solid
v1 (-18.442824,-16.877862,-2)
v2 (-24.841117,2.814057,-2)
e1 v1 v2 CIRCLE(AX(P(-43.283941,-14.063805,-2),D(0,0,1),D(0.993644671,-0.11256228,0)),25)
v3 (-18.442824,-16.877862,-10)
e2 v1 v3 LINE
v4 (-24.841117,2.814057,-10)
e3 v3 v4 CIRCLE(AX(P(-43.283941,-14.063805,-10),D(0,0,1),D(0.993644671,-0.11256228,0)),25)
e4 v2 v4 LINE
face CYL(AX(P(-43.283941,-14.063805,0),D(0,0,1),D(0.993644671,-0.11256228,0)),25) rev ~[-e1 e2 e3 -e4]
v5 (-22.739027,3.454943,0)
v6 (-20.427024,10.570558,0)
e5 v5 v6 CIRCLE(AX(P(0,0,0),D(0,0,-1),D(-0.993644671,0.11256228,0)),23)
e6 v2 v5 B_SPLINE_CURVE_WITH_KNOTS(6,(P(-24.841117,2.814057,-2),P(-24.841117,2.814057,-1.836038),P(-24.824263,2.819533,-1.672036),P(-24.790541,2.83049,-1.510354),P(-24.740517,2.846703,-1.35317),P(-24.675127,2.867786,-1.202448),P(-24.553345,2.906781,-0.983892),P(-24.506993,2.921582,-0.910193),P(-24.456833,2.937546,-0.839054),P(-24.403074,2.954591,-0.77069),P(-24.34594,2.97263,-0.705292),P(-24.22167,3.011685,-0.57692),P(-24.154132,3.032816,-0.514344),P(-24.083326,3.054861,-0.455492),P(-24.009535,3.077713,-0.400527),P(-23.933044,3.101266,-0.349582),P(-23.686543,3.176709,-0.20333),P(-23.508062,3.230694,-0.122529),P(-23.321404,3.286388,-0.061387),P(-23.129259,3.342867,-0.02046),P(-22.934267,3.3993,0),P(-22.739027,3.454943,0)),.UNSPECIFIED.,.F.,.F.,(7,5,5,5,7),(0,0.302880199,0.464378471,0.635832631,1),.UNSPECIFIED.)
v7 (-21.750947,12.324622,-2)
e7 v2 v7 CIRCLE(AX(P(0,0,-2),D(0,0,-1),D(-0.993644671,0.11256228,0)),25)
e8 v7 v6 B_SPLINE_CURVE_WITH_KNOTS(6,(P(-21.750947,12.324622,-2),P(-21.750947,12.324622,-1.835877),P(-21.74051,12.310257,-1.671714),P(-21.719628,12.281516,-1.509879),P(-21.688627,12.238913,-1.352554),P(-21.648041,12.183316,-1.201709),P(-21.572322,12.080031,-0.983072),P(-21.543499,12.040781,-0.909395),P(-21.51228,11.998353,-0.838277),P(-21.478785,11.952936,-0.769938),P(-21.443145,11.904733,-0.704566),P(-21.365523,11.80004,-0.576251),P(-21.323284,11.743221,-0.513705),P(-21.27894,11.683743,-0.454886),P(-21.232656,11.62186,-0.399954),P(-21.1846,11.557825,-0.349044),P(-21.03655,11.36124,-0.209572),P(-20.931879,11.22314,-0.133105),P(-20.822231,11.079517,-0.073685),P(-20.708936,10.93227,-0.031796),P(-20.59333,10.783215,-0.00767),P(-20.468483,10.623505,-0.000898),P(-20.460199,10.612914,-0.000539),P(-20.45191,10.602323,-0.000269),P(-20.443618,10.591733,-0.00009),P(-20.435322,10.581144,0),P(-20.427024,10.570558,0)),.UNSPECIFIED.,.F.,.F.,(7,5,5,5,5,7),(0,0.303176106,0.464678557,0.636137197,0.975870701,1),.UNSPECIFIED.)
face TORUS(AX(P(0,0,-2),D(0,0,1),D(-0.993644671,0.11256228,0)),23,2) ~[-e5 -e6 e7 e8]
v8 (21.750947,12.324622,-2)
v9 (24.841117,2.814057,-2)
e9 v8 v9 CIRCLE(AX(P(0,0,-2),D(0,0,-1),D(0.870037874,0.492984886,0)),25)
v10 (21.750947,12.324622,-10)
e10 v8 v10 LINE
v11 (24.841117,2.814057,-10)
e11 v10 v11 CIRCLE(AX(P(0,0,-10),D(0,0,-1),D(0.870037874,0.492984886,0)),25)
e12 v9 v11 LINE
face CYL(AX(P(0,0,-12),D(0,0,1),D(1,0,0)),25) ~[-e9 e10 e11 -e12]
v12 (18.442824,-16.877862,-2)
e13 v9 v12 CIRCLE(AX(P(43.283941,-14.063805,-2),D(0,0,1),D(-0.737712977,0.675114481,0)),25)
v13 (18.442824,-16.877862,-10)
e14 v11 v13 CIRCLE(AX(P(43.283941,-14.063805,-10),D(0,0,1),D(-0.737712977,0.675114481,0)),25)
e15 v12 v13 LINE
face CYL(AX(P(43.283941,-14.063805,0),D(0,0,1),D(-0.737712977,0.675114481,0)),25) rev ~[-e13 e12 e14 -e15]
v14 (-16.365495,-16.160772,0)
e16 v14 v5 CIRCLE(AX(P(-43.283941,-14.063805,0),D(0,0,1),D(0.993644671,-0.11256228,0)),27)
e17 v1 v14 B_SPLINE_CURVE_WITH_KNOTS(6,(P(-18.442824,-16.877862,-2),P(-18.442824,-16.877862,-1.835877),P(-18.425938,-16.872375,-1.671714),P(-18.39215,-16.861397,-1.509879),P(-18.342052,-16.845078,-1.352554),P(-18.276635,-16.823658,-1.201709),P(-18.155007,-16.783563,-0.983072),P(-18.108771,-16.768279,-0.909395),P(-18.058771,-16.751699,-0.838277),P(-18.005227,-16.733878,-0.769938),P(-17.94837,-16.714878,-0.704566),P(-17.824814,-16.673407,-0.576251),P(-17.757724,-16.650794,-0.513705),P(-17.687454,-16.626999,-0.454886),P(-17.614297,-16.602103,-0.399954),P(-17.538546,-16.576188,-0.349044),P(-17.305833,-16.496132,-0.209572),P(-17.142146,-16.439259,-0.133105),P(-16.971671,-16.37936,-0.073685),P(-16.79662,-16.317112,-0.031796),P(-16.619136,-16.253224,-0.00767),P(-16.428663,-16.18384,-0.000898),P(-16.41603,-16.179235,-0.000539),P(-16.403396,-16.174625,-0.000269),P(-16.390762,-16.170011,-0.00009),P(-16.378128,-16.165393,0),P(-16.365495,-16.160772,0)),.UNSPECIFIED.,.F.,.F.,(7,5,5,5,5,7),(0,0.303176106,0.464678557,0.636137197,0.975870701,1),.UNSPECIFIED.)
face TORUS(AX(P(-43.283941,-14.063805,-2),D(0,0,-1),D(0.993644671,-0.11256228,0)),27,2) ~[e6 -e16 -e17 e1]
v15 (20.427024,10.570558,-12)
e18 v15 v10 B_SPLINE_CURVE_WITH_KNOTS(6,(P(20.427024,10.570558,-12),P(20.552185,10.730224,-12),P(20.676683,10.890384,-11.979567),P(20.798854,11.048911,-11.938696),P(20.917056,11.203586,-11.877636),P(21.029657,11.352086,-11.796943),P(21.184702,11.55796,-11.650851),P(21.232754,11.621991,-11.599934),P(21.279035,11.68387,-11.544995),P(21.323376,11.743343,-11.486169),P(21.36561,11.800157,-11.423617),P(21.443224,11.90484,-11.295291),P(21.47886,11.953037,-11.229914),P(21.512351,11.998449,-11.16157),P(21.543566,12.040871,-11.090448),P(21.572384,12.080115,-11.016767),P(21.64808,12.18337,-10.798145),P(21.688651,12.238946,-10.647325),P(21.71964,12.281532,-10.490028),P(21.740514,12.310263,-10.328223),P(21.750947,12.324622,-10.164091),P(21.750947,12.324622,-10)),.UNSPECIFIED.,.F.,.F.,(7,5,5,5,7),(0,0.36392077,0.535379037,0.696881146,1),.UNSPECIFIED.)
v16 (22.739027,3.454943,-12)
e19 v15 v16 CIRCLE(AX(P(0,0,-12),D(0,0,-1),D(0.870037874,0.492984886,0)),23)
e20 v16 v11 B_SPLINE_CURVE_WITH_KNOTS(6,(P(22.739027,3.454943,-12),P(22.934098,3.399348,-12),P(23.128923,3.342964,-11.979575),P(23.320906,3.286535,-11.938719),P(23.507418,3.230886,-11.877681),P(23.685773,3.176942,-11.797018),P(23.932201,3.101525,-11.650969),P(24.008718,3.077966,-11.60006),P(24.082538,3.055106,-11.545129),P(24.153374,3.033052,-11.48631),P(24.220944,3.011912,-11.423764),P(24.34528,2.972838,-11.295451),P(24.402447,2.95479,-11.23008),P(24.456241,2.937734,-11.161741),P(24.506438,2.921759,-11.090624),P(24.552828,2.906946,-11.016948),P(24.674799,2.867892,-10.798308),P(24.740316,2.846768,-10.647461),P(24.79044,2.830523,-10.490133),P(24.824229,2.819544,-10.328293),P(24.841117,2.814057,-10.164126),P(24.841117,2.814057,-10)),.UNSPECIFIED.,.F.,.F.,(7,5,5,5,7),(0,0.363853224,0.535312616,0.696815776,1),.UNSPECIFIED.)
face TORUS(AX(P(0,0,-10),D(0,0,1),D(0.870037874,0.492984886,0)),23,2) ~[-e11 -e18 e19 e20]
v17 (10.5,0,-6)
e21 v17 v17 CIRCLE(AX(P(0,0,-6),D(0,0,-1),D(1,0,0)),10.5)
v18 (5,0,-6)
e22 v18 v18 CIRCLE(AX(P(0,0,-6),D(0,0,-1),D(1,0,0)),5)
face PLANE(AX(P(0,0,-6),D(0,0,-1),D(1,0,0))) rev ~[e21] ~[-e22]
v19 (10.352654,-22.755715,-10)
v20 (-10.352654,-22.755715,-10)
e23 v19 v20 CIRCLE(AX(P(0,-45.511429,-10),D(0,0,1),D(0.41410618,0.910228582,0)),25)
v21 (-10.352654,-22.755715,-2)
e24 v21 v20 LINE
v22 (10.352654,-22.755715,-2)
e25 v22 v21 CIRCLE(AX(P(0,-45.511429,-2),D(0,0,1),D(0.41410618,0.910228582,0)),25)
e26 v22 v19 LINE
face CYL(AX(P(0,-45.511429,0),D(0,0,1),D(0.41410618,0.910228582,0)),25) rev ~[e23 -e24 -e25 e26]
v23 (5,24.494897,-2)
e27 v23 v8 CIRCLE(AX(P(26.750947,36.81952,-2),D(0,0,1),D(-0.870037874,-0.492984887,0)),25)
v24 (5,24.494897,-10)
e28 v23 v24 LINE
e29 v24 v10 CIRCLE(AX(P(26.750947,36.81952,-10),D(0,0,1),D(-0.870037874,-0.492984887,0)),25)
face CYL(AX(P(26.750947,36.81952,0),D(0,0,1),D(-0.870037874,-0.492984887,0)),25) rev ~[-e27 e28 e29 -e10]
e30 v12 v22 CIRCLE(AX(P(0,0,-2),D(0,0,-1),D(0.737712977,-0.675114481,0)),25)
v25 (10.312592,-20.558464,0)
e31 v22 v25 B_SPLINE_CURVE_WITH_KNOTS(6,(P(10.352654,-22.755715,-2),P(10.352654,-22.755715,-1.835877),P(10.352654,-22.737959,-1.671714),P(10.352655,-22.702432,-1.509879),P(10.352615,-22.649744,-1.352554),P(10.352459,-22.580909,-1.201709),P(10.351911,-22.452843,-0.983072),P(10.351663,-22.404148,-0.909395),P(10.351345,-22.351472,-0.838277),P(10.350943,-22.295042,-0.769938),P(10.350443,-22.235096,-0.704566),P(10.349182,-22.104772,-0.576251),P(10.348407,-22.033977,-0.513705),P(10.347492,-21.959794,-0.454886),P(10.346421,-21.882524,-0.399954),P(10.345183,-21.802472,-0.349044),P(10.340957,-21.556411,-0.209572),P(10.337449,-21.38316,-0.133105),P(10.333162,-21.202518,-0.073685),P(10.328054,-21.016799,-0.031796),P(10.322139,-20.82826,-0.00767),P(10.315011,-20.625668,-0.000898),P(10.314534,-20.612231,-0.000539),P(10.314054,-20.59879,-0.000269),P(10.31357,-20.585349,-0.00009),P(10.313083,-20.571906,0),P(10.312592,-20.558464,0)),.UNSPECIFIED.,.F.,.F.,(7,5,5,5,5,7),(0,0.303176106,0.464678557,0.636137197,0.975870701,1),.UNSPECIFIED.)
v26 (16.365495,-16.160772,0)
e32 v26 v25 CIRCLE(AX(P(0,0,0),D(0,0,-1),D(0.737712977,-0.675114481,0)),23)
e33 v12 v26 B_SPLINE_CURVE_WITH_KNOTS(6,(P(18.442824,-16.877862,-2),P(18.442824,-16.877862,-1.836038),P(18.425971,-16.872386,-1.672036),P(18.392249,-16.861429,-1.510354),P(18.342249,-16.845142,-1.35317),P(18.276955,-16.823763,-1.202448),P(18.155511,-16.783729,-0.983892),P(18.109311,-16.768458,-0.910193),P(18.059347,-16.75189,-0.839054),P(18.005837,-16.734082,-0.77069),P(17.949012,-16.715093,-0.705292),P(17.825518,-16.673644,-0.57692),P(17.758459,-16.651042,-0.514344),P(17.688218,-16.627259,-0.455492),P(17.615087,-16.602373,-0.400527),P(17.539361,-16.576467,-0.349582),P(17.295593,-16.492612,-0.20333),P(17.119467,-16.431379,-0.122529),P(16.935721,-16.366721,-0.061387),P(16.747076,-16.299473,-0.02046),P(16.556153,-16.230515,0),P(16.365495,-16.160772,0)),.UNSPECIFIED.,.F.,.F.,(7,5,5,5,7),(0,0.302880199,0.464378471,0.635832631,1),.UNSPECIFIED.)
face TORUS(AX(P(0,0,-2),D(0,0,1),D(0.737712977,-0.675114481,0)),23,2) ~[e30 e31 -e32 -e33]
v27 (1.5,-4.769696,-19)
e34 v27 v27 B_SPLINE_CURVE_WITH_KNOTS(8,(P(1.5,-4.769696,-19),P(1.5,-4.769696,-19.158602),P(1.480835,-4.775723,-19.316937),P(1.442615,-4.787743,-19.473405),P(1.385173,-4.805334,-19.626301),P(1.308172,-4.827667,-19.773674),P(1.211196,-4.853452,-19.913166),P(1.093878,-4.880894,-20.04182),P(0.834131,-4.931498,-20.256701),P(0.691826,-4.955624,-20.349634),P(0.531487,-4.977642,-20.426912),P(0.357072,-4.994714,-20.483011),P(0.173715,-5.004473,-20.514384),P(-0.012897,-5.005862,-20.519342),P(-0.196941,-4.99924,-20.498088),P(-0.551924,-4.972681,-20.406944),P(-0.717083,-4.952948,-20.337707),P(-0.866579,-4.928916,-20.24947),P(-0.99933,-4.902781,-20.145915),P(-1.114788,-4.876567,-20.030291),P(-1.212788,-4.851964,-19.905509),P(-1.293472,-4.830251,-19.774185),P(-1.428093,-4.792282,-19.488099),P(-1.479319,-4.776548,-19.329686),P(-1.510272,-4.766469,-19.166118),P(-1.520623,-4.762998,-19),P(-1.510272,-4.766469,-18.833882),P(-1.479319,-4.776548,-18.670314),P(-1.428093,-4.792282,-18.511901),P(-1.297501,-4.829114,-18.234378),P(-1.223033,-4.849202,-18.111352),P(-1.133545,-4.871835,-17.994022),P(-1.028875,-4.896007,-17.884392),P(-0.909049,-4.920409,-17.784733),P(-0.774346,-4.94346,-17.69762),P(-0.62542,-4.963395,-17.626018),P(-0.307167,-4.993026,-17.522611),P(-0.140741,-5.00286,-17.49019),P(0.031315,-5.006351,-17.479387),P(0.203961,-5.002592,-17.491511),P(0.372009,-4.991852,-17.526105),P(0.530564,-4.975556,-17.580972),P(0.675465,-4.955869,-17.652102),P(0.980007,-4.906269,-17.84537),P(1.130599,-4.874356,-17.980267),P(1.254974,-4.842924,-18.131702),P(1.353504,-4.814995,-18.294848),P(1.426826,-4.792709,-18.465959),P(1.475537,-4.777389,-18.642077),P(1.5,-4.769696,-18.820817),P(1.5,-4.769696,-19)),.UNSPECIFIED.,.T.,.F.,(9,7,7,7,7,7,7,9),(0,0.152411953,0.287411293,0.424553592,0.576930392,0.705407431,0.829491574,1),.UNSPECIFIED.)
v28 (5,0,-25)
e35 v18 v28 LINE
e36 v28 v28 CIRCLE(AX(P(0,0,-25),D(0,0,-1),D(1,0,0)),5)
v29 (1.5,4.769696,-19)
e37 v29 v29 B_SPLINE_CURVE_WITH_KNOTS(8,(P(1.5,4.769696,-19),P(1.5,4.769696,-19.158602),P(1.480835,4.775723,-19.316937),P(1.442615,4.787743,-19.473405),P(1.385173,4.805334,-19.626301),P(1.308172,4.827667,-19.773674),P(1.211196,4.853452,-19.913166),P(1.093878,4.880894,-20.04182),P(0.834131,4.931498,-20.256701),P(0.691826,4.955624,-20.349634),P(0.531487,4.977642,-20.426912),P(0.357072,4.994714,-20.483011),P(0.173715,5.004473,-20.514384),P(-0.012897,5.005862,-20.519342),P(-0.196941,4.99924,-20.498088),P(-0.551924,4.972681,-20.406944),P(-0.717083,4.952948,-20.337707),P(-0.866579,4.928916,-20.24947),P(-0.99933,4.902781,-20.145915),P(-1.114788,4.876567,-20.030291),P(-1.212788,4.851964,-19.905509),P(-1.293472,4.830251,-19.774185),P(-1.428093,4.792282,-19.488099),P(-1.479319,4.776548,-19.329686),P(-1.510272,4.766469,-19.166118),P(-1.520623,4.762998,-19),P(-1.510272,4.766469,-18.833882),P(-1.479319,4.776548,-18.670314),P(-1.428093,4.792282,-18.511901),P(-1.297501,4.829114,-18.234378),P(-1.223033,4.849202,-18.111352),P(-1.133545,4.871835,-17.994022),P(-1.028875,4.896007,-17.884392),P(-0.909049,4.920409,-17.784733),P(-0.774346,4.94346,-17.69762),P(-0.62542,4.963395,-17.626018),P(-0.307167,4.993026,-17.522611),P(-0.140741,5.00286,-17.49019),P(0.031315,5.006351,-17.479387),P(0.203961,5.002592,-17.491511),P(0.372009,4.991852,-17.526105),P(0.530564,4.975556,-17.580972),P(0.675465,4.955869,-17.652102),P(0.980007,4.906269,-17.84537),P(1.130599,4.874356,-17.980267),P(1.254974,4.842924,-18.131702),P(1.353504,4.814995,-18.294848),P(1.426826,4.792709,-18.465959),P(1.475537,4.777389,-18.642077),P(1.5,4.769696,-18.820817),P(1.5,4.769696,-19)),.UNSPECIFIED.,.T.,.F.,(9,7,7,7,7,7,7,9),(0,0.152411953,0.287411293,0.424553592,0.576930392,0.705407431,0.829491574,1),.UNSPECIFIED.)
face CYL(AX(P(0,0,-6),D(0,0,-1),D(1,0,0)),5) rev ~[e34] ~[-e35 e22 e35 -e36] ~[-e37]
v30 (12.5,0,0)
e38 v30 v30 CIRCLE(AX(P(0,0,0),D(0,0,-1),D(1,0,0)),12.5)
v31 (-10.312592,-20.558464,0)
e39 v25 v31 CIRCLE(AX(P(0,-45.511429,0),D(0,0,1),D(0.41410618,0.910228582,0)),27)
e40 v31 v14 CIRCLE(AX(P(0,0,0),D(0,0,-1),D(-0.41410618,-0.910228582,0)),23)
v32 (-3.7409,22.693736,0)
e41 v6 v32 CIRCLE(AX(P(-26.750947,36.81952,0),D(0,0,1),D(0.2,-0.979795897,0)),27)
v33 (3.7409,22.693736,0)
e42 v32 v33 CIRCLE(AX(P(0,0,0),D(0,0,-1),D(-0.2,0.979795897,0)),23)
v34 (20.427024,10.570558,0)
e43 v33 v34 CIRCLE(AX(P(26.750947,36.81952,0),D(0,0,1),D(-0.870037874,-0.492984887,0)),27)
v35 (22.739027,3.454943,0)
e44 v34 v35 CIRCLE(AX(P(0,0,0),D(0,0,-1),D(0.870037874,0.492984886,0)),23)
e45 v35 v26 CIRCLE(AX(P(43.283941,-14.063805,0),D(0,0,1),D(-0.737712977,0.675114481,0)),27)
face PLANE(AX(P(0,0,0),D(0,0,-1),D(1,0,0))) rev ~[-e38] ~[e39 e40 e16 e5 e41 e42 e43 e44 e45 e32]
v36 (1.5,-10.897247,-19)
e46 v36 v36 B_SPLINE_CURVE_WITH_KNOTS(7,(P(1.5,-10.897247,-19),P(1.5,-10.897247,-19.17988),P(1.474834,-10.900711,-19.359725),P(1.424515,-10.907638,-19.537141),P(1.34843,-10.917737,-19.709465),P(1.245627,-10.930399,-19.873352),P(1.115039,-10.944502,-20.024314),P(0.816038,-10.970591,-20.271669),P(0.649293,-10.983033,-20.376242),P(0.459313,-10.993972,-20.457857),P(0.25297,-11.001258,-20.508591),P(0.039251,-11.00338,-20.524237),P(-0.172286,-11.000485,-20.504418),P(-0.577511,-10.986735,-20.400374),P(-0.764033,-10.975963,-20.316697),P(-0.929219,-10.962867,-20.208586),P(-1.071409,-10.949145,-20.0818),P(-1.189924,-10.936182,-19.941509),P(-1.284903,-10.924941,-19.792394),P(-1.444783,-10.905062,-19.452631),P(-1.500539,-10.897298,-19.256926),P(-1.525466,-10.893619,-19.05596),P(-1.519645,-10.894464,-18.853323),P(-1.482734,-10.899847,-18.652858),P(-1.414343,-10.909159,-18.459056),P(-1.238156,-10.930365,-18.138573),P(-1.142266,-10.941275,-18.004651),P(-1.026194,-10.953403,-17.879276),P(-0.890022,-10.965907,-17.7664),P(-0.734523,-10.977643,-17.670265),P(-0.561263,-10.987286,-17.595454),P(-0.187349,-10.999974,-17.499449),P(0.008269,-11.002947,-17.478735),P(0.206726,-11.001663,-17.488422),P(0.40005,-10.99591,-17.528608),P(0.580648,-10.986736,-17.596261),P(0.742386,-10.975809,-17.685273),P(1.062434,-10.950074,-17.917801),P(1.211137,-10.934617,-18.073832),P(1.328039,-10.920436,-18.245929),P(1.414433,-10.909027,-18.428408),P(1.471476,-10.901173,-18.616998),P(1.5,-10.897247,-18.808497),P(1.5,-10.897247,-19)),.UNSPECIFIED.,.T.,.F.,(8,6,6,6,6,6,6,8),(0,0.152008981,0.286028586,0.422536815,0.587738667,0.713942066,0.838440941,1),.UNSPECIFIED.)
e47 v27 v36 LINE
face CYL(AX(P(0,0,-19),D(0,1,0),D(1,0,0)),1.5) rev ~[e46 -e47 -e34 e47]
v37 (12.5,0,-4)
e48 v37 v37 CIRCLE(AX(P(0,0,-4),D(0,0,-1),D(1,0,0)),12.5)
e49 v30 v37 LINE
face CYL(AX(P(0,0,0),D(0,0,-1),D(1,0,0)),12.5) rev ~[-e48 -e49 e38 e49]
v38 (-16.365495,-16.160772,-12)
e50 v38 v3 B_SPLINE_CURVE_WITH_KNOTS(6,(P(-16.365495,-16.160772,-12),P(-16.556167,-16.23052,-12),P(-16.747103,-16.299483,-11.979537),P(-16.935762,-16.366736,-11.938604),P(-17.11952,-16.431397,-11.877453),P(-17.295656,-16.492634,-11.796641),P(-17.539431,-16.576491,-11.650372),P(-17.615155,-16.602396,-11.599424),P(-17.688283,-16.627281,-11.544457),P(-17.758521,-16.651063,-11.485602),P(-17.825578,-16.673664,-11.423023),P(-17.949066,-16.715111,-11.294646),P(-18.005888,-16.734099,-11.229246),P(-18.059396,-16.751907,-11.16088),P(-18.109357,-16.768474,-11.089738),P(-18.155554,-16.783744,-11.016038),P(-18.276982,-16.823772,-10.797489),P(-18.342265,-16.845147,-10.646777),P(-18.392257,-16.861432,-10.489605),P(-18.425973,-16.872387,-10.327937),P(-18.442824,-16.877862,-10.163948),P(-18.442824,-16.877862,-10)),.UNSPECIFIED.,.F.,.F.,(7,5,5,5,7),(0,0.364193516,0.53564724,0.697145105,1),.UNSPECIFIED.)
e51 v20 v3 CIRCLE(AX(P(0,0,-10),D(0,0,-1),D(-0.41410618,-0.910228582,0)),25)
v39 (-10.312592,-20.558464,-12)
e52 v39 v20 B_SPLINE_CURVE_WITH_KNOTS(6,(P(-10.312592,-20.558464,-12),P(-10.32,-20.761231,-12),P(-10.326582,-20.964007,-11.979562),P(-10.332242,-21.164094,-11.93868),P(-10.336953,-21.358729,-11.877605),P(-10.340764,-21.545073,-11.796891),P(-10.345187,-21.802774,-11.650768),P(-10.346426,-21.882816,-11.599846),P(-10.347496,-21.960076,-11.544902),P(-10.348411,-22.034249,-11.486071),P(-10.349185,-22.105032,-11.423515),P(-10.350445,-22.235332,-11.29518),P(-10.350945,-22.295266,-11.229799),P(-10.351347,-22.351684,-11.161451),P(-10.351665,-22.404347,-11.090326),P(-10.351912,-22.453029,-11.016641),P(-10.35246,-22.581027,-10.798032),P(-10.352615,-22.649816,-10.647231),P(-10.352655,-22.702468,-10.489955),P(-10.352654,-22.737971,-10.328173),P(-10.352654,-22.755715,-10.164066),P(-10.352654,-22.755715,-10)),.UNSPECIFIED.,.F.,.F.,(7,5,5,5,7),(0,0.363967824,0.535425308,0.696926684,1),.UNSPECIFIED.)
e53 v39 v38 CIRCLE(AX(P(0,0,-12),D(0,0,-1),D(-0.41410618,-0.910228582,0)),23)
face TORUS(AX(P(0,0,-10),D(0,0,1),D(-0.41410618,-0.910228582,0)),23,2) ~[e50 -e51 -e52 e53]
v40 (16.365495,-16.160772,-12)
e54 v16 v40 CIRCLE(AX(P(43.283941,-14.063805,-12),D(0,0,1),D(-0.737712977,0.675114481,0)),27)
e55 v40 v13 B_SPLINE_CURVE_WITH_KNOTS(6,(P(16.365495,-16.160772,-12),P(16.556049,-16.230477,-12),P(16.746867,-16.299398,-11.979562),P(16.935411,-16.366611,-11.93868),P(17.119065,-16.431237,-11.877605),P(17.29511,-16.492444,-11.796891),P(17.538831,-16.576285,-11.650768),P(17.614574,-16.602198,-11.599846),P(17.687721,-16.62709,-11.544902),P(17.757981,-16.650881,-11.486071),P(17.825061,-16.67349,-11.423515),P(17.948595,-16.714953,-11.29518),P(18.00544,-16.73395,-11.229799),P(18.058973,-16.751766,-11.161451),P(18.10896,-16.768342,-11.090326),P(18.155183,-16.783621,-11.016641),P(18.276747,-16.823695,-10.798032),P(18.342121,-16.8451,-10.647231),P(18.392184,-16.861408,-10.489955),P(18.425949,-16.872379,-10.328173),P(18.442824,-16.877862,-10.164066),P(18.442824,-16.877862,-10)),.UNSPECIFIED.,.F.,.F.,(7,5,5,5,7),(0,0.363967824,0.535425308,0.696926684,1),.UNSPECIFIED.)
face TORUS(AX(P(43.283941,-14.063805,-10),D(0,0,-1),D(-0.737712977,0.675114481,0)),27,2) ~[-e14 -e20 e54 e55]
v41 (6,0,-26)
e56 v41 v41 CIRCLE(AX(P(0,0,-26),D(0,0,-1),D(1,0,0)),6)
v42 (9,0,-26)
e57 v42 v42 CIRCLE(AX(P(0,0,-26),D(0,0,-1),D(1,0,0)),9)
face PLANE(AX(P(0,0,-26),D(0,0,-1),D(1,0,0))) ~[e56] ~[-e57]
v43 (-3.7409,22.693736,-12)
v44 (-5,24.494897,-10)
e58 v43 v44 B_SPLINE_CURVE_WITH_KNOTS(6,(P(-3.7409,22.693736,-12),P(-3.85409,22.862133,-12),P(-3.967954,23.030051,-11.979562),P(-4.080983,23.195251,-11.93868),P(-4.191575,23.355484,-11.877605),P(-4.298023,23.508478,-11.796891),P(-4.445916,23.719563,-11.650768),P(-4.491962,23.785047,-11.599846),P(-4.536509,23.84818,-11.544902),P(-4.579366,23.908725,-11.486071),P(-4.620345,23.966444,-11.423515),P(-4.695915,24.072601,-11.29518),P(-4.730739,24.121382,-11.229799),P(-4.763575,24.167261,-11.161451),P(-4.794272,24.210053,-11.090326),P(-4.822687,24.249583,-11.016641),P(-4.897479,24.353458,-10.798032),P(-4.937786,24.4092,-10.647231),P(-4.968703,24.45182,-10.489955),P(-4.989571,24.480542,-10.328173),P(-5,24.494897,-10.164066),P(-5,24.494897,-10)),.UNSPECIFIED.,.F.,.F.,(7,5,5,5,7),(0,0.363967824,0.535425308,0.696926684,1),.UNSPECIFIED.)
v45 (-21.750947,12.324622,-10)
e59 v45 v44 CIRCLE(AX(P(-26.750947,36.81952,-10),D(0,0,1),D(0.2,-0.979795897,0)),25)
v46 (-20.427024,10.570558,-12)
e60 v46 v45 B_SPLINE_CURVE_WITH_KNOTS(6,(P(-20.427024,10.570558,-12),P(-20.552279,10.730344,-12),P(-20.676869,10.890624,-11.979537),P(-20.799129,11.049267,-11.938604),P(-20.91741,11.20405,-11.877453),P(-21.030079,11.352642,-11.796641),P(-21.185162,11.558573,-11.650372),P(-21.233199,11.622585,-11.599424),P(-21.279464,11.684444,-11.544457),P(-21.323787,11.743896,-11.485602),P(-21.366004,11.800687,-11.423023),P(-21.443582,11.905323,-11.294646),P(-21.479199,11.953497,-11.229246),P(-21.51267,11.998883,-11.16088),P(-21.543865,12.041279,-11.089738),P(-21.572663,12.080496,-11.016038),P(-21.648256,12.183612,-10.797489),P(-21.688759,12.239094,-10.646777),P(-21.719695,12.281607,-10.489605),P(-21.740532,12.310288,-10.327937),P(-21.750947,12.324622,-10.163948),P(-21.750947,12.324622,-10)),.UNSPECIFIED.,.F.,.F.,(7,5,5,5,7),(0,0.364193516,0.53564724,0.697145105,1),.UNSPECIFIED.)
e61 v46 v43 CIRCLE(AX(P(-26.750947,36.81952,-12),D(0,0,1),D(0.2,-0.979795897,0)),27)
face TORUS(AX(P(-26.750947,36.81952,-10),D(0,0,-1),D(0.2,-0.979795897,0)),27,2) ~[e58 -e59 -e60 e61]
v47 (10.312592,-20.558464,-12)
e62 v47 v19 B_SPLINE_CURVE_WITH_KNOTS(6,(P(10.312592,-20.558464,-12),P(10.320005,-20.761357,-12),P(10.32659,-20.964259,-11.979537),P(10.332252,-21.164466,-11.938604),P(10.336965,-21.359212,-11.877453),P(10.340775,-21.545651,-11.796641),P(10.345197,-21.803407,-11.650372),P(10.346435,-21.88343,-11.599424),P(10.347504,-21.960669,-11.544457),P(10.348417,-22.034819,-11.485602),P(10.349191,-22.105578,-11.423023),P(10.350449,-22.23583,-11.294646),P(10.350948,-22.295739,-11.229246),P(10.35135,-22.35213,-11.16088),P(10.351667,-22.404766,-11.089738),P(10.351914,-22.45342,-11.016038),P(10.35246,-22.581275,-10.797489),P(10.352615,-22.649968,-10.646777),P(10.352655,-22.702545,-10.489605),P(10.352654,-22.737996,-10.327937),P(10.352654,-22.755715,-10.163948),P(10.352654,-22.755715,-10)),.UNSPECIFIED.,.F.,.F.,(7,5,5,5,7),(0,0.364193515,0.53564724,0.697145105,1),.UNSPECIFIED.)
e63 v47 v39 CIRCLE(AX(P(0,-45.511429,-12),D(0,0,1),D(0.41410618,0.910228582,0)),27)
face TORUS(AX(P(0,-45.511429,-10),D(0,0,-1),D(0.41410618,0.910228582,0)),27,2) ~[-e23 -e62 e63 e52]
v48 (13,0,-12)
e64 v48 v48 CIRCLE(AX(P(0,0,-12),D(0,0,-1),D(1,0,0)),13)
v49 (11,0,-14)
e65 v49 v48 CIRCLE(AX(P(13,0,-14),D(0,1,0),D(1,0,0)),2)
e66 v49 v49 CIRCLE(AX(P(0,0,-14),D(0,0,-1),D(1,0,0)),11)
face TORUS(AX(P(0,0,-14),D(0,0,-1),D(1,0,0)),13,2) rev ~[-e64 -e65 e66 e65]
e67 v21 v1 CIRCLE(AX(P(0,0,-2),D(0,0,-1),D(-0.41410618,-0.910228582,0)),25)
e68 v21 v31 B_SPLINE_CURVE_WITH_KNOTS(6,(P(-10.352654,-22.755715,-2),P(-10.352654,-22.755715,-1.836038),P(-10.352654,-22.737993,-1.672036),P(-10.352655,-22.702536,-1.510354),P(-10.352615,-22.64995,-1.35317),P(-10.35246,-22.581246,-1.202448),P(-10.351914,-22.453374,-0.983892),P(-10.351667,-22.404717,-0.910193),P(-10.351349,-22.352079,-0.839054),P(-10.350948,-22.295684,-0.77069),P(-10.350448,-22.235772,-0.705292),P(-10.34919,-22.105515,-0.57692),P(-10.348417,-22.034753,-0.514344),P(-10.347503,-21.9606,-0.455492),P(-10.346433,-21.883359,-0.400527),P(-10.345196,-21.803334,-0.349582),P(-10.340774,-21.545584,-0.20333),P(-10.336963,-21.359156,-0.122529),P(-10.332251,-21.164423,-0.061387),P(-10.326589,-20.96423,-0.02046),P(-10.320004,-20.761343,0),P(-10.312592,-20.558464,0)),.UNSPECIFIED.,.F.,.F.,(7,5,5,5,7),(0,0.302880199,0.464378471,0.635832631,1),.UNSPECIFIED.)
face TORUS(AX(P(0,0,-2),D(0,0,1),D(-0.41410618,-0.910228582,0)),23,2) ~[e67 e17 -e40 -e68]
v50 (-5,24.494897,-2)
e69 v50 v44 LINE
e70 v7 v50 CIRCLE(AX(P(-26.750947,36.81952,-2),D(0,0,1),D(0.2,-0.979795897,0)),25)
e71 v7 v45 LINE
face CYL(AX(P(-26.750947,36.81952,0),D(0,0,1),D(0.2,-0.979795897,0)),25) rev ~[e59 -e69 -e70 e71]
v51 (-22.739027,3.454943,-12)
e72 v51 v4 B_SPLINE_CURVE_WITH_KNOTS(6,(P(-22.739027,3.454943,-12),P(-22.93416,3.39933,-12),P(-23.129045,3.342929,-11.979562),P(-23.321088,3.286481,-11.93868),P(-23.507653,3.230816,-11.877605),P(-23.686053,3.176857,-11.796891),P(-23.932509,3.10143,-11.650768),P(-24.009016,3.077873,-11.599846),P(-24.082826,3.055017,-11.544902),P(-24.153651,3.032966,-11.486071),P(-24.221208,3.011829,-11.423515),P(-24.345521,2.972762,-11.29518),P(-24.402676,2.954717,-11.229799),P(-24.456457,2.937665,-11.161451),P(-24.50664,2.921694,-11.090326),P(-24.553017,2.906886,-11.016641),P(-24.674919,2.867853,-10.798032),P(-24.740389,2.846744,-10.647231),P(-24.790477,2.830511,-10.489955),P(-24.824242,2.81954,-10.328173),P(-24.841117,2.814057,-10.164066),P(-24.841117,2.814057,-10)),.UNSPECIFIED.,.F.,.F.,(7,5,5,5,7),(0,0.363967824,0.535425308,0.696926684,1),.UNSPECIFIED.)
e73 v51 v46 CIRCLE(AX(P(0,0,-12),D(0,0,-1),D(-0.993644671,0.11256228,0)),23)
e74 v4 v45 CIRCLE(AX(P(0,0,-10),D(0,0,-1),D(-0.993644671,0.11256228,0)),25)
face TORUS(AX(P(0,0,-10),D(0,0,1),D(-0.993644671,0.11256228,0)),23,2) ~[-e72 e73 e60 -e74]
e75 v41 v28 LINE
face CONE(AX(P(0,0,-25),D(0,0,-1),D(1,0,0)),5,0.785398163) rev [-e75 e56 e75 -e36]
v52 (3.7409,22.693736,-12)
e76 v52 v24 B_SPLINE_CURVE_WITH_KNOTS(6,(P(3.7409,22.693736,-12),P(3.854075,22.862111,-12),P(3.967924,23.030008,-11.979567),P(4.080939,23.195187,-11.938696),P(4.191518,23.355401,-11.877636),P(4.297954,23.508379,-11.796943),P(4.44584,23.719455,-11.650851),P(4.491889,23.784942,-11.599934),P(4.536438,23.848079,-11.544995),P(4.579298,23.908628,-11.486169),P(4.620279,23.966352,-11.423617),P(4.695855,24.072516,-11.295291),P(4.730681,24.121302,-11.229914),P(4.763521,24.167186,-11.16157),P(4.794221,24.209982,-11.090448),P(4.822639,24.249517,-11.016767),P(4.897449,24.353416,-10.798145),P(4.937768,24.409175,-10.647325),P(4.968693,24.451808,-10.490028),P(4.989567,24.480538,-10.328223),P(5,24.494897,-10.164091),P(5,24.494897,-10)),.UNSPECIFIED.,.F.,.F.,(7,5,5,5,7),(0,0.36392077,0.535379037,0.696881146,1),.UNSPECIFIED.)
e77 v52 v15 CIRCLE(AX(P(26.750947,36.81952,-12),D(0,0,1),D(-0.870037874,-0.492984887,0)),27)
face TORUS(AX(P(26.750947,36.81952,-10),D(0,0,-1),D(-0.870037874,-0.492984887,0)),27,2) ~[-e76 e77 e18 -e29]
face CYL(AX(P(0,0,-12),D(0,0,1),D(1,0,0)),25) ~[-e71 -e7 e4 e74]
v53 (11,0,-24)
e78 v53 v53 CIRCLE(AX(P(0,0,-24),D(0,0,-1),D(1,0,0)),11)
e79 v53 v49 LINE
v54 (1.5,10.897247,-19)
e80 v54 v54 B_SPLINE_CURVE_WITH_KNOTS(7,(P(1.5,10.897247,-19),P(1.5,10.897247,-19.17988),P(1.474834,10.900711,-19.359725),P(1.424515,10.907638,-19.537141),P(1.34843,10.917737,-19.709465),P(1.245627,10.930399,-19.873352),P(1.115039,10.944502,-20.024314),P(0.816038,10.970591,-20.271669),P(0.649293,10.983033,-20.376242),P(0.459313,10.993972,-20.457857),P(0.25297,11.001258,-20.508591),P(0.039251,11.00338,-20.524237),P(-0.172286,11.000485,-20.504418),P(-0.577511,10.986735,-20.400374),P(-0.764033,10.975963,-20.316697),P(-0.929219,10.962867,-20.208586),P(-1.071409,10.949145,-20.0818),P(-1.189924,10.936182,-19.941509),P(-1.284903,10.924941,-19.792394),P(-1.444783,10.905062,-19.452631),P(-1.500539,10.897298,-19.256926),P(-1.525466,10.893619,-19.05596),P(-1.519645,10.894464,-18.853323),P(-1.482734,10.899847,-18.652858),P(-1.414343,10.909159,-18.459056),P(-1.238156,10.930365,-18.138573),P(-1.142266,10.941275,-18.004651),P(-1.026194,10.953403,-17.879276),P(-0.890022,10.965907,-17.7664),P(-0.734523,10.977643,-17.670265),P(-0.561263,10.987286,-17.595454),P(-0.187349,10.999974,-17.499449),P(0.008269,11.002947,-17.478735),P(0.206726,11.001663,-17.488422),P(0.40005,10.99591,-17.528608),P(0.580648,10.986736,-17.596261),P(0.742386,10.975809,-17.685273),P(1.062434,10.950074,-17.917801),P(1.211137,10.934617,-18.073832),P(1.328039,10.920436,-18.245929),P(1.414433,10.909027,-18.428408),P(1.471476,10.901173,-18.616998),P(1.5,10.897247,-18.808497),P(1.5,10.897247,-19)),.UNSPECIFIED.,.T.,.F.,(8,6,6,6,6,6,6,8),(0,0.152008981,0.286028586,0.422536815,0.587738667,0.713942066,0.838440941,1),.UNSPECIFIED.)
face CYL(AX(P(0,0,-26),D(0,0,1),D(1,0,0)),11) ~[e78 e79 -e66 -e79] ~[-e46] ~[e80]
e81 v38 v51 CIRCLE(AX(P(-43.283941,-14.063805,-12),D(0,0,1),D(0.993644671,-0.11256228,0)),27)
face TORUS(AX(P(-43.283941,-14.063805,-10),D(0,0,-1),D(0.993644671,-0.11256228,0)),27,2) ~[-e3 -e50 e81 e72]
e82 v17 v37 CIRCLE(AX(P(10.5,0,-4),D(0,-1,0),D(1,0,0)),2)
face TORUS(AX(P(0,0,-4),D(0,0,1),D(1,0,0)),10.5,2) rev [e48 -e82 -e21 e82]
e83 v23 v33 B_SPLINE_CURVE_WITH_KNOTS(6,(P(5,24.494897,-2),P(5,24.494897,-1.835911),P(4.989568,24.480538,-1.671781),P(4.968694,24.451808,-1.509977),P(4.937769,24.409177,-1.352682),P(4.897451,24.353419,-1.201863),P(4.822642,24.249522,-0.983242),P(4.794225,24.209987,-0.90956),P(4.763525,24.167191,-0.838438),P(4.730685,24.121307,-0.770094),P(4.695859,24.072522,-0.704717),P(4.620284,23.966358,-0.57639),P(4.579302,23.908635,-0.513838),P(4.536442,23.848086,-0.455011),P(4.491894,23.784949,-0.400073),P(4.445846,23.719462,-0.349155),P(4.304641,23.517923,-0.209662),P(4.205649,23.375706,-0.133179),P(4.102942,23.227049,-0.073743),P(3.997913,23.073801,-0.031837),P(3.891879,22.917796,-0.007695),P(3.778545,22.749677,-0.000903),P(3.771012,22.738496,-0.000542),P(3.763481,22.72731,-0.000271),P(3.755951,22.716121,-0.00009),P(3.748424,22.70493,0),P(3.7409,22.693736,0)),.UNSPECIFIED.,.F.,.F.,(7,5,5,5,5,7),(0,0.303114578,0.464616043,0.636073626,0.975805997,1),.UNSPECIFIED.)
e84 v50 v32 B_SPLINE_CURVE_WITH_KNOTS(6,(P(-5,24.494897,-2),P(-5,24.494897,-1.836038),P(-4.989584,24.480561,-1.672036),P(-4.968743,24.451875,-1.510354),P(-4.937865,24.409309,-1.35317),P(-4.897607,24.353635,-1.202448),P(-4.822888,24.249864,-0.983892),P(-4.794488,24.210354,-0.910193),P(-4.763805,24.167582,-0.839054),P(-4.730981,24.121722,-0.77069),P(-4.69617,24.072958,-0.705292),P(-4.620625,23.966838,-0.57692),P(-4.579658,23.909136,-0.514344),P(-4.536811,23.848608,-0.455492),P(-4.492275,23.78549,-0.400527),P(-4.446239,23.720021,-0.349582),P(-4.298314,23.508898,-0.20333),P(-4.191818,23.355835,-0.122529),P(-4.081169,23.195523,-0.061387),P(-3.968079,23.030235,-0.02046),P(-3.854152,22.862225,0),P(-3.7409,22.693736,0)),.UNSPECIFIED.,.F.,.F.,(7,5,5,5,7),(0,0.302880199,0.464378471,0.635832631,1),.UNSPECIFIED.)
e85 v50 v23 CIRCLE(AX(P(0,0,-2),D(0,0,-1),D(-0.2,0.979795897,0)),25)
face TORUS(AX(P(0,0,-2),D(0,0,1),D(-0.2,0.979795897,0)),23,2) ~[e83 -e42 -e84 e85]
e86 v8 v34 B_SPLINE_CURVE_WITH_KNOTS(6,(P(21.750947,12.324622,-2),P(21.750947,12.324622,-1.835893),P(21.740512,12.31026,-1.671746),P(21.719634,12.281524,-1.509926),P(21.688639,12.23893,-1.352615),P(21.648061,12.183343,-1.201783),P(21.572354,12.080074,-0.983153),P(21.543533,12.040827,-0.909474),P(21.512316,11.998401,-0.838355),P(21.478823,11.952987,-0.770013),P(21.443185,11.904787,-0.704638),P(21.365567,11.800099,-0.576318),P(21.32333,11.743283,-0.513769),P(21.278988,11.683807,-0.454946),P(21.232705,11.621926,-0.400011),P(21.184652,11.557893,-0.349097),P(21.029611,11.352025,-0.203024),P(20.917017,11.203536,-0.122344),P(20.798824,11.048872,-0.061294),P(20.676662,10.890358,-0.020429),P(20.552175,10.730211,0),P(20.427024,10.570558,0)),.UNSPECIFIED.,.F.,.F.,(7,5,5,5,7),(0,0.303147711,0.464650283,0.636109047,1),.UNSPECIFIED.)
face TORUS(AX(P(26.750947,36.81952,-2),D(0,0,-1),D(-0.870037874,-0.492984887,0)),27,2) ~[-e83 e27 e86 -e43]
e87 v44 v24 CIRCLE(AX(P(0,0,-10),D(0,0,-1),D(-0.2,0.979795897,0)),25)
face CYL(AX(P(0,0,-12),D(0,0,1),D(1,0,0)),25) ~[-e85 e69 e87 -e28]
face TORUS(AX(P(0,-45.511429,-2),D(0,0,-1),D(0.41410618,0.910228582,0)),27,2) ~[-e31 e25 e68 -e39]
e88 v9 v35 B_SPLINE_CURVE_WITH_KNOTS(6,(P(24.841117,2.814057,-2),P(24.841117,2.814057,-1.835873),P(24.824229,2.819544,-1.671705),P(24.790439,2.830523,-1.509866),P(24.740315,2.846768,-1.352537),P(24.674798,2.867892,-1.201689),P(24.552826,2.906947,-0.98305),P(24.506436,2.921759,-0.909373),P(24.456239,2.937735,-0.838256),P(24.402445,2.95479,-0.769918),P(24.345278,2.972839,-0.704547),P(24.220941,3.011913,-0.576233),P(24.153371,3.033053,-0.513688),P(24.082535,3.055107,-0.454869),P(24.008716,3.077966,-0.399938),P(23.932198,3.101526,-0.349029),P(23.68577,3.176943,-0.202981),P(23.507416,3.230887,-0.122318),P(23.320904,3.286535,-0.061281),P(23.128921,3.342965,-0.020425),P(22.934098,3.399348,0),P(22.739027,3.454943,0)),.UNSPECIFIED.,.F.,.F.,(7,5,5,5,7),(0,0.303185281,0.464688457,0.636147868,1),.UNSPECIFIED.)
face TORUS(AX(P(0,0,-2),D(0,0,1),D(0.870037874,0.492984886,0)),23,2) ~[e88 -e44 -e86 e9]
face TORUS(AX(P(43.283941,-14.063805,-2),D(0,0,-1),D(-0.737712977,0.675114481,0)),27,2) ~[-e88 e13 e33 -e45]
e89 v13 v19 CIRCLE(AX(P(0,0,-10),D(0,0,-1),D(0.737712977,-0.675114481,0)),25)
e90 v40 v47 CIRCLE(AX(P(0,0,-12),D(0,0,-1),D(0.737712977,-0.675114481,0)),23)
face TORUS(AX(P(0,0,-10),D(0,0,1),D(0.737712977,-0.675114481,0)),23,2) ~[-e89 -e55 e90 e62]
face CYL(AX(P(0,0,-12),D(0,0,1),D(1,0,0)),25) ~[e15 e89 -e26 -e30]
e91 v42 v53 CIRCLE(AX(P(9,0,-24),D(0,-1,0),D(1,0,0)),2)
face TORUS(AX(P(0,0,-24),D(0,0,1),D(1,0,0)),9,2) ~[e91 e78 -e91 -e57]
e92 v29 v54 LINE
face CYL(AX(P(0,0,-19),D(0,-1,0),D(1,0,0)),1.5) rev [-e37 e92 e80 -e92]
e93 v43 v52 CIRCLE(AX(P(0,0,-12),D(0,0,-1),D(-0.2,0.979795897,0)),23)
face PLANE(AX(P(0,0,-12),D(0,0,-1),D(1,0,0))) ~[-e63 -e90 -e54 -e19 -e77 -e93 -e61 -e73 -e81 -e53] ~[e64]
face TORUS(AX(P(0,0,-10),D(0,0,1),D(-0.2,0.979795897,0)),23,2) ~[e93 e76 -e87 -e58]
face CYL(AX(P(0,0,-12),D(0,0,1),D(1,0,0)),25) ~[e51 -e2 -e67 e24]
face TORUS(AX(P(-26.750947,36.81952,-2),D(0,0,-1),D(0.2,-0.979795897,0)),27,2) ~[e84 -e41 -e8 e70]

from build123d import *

# Parameters (mm, degrees)
CUT_EXTRUDE_1_REACH      = 28
SKETCH_3_R               = 1.5
CUT_EXTRUDE_2_DEPTH      = 26
CUT_EXTRUDE_2_DEPTH_BACK = 23.755714556
FILLET_1_R               = 2
CHAMFER_1_SIZE           = 1


with BuildPart() as part:
    # 草图1 → 旋转1 (revolve)
    with BuildSketch(Plane(origin=(0, 0, 0), x_dir=(1, 0, 0), z_dir=(0, 1, 0))):
        Polygon((5, 26), (11, 26), (11, 12), (25, 12), (25, 0), (12.5, 0), (12.5, 6), (5, 6), align=None)
    revolve(axis=Axis((0, 0, 0), (0, 0, -1)))

    # 草图2 → 切除-拉伸1 (cut, up to next)
    with BuildSketch(Plane.XY, mode=Mode.PRIVATE) as cut_extrude_1_sk1:
        with BuildLine():
            ThreePointArc((-21.750946843, 12.324622162), (-12.056315536, 16.594094731), (-5, 24.494897428))
            ThreePointArc((-5, 24.494897428), (-14.694631307, 20.225424859), (-21.750946843, 12.324622162))
        make_face()
    cut_extrude_1_tool1 = extrude(cut_extrude_1_sk1.sketch, amount=-CUT_EXTRUDE_1_REACH, mode=Mode.PRIVATE) & part.part
    add(cut_extrude_1_tool1.solids().sort_by_distance((-13.375473, 18.40976, 0))[0], mode=Mode.SUBTRACT)
    # 草图2 → 切除-拉伸1 (cut, up to next)
    with BuildSketch(Plane.XY, mode=Mode.PRIVATE) as cut_extrude_1_sk2:
        with BuildLine():
            ThreePointArc((-24.841116787, 2.814056999), (-23.776412907, -7.725424859), (-18.442824436, -16.877862033))
            ThreePointArc((-18.442824436, -16.877862033), (-19.507528316, -6.338380175), (-24.841116787, 2.814056999))
        make_face()
    cut_extrude_1_tool2 = extrude(cut_extrude_1_sk2.sketch, amount=-CUT_EXTRUDE_1_REACH, mode=Mode.PRIVATE) & part.part
    add(cut_extrude_1_tool2.solids().sort_by_distance((-21.641971, -7.031903, 0))[0], mode=Mode.SUBTRACT)
    # 草图2 → 切除-拉伸1 (cut, up to next)
    with BuildSketch(Plane.XY, mode=Mode.PRIVATE) as cut_extrude_1_sk3:
        with BuildLine():
            ThreePointArc((-10.352654493, -22.755714556), (0, -25), (10.352654493, -22.755714556))
            ThreePointArc((10.352654493, -22.755714556), (0, -20.511429112), (-10.352654493, -22.755714556))
        make_face()
    cut_extrude_1_tool3 = extrude(cut_extrude_1_sk3.sketch, amount=-CUT_EXTRUDE_1_REACH, mode=Mode.PRIVATE) & part.part
    add(cut_extrude_1_tool3.solids().sort_by_distance((0, -22.755715, 0))[0], mode=Mode.SUBTRACT)
    # 草图2 → 切除-拉伸1 (cut, up to next)
    with BuildSketch(Plane.XY, mode=Mode.PRIVATE) as cut_extrude_1_sk4:
        with BuildLine():
            ThreePointArc((18.442824436, -16.877862033), (23.303117934, -9.053435511), (25, 0))
            ThreePointArc((25, 0), (24.960247592, 1.409269374), (24.841116787, 2.814056999))
            ThreePointArc((24.841116787, 2.814056999), (19.507528316, -6.338380175), (18.442824436, -16.877862033))
        make_face()
    cut_extrude_1_tool4 = extrude(cut_extrude_1_sk4.sketch, amount=-CUT_EXTRUDE_1_REACH, mode=Mode.PRIVATE) & part.part
    add(cut_extrude_1_tool4.solids().sort_by_distance((21.641971, -7.031903, 0))[0], mode=Mode.SUBTRACT)
    # 草图2 → 切除-拉伸1 (cut, up to next)
    with BuildSketch(Plane.XY, mode=Mode.PRIVATE) as cut_extrude_1_sk5:
        with BuildLine():
            ThreePointArc((5, 24.494897428), (12.056315536, 16.594094731), (21.750946843, 12.324622162))
            ThreePointArc((21.750946843, 12.324622162), (14.694631307, 20.225424859), (5, 24.494897428))
        make_face()
    cut_extrude_1_tool5 = extrude(cut_extrude_1_sk5.sketch, amount=-CUT_EXTRUDE_1_REACH, mode=Mode.PRIVATE) & part.part
    add(cut_extrude_1_tool5.solids().sort_by_distance((13.375473, 18.40976, 0))[0], mode=Mode.SUBTRACT)

    # 草图3 → 切除-拉伸2 (cut, two sides)
    with BuildSketch(Plane(origin=(0, 0, 0), x_dir=(1, 0, 0), z_dir=(0, 1, 0))) as cut_extrude_2_sk:
        with Locations((0, 19)):
            Circle(SKETCH_3_R)
    extrude(amount=CUT_EXTRUDE_2_DEPTH, mode=Mode.SUBTRACT)
    extrude(cut_extrude_2_sk.sketch, amount=-CUT_EXTRUDE_2_DEPTH_BACK, mode=Mode.SUBTRACT)

    # 圆角1
    fillet_1_edges = [part.edges().sort_by_distance(p)[0] for p in [
        (0, 25, -12),
        (-23.776412907, 7.725424859, -12),
        (-14.694631307, -20.225424859, -12),
        (14.694631307, -20.225424859, -12),
        (0, 25, 0),
        (-23.776412907, 7.725424859, 0),
        (-14.694631307, -20.225424859, 0),
        (14.694631307, -20.225424859, 0),
        (-19.507528316, -6.338380175, -12),
        (-19.507528316, -6.338380175, 0),
        (0, -20.511429112, -12),
        (0, -20.511429112, 0),
        (19.507528316, -6.338380175, -12),
        (19.507528316, -6.338380175, 0),
        (12.056315536, 16.594094731, -12),
        (12.056315536, 16.594094731, 0),
        (-12.056315536, 16.594094731, -12),
        (-12.056315536, 16.594094731, 0),
        (-11, 0, -12),
        (23.776412907, 7.725424859, -12),
        (23.776412907, 7.725424859, 0),
        (-12.5, 0, -6),
        (-11, 0, -26),
    ]]
    fillet(fillet_1_edges, radius=FILLET_1_R)

    # 倒角1
    chamfer_1_edges = [part.edges().sort_by_distance(p)[0] for p in [
        (-5, 0, -26),
    ]]
    chamfer(chamfer_1_edges, length=CHAMFER_1_SIZE)


solid = part.part
